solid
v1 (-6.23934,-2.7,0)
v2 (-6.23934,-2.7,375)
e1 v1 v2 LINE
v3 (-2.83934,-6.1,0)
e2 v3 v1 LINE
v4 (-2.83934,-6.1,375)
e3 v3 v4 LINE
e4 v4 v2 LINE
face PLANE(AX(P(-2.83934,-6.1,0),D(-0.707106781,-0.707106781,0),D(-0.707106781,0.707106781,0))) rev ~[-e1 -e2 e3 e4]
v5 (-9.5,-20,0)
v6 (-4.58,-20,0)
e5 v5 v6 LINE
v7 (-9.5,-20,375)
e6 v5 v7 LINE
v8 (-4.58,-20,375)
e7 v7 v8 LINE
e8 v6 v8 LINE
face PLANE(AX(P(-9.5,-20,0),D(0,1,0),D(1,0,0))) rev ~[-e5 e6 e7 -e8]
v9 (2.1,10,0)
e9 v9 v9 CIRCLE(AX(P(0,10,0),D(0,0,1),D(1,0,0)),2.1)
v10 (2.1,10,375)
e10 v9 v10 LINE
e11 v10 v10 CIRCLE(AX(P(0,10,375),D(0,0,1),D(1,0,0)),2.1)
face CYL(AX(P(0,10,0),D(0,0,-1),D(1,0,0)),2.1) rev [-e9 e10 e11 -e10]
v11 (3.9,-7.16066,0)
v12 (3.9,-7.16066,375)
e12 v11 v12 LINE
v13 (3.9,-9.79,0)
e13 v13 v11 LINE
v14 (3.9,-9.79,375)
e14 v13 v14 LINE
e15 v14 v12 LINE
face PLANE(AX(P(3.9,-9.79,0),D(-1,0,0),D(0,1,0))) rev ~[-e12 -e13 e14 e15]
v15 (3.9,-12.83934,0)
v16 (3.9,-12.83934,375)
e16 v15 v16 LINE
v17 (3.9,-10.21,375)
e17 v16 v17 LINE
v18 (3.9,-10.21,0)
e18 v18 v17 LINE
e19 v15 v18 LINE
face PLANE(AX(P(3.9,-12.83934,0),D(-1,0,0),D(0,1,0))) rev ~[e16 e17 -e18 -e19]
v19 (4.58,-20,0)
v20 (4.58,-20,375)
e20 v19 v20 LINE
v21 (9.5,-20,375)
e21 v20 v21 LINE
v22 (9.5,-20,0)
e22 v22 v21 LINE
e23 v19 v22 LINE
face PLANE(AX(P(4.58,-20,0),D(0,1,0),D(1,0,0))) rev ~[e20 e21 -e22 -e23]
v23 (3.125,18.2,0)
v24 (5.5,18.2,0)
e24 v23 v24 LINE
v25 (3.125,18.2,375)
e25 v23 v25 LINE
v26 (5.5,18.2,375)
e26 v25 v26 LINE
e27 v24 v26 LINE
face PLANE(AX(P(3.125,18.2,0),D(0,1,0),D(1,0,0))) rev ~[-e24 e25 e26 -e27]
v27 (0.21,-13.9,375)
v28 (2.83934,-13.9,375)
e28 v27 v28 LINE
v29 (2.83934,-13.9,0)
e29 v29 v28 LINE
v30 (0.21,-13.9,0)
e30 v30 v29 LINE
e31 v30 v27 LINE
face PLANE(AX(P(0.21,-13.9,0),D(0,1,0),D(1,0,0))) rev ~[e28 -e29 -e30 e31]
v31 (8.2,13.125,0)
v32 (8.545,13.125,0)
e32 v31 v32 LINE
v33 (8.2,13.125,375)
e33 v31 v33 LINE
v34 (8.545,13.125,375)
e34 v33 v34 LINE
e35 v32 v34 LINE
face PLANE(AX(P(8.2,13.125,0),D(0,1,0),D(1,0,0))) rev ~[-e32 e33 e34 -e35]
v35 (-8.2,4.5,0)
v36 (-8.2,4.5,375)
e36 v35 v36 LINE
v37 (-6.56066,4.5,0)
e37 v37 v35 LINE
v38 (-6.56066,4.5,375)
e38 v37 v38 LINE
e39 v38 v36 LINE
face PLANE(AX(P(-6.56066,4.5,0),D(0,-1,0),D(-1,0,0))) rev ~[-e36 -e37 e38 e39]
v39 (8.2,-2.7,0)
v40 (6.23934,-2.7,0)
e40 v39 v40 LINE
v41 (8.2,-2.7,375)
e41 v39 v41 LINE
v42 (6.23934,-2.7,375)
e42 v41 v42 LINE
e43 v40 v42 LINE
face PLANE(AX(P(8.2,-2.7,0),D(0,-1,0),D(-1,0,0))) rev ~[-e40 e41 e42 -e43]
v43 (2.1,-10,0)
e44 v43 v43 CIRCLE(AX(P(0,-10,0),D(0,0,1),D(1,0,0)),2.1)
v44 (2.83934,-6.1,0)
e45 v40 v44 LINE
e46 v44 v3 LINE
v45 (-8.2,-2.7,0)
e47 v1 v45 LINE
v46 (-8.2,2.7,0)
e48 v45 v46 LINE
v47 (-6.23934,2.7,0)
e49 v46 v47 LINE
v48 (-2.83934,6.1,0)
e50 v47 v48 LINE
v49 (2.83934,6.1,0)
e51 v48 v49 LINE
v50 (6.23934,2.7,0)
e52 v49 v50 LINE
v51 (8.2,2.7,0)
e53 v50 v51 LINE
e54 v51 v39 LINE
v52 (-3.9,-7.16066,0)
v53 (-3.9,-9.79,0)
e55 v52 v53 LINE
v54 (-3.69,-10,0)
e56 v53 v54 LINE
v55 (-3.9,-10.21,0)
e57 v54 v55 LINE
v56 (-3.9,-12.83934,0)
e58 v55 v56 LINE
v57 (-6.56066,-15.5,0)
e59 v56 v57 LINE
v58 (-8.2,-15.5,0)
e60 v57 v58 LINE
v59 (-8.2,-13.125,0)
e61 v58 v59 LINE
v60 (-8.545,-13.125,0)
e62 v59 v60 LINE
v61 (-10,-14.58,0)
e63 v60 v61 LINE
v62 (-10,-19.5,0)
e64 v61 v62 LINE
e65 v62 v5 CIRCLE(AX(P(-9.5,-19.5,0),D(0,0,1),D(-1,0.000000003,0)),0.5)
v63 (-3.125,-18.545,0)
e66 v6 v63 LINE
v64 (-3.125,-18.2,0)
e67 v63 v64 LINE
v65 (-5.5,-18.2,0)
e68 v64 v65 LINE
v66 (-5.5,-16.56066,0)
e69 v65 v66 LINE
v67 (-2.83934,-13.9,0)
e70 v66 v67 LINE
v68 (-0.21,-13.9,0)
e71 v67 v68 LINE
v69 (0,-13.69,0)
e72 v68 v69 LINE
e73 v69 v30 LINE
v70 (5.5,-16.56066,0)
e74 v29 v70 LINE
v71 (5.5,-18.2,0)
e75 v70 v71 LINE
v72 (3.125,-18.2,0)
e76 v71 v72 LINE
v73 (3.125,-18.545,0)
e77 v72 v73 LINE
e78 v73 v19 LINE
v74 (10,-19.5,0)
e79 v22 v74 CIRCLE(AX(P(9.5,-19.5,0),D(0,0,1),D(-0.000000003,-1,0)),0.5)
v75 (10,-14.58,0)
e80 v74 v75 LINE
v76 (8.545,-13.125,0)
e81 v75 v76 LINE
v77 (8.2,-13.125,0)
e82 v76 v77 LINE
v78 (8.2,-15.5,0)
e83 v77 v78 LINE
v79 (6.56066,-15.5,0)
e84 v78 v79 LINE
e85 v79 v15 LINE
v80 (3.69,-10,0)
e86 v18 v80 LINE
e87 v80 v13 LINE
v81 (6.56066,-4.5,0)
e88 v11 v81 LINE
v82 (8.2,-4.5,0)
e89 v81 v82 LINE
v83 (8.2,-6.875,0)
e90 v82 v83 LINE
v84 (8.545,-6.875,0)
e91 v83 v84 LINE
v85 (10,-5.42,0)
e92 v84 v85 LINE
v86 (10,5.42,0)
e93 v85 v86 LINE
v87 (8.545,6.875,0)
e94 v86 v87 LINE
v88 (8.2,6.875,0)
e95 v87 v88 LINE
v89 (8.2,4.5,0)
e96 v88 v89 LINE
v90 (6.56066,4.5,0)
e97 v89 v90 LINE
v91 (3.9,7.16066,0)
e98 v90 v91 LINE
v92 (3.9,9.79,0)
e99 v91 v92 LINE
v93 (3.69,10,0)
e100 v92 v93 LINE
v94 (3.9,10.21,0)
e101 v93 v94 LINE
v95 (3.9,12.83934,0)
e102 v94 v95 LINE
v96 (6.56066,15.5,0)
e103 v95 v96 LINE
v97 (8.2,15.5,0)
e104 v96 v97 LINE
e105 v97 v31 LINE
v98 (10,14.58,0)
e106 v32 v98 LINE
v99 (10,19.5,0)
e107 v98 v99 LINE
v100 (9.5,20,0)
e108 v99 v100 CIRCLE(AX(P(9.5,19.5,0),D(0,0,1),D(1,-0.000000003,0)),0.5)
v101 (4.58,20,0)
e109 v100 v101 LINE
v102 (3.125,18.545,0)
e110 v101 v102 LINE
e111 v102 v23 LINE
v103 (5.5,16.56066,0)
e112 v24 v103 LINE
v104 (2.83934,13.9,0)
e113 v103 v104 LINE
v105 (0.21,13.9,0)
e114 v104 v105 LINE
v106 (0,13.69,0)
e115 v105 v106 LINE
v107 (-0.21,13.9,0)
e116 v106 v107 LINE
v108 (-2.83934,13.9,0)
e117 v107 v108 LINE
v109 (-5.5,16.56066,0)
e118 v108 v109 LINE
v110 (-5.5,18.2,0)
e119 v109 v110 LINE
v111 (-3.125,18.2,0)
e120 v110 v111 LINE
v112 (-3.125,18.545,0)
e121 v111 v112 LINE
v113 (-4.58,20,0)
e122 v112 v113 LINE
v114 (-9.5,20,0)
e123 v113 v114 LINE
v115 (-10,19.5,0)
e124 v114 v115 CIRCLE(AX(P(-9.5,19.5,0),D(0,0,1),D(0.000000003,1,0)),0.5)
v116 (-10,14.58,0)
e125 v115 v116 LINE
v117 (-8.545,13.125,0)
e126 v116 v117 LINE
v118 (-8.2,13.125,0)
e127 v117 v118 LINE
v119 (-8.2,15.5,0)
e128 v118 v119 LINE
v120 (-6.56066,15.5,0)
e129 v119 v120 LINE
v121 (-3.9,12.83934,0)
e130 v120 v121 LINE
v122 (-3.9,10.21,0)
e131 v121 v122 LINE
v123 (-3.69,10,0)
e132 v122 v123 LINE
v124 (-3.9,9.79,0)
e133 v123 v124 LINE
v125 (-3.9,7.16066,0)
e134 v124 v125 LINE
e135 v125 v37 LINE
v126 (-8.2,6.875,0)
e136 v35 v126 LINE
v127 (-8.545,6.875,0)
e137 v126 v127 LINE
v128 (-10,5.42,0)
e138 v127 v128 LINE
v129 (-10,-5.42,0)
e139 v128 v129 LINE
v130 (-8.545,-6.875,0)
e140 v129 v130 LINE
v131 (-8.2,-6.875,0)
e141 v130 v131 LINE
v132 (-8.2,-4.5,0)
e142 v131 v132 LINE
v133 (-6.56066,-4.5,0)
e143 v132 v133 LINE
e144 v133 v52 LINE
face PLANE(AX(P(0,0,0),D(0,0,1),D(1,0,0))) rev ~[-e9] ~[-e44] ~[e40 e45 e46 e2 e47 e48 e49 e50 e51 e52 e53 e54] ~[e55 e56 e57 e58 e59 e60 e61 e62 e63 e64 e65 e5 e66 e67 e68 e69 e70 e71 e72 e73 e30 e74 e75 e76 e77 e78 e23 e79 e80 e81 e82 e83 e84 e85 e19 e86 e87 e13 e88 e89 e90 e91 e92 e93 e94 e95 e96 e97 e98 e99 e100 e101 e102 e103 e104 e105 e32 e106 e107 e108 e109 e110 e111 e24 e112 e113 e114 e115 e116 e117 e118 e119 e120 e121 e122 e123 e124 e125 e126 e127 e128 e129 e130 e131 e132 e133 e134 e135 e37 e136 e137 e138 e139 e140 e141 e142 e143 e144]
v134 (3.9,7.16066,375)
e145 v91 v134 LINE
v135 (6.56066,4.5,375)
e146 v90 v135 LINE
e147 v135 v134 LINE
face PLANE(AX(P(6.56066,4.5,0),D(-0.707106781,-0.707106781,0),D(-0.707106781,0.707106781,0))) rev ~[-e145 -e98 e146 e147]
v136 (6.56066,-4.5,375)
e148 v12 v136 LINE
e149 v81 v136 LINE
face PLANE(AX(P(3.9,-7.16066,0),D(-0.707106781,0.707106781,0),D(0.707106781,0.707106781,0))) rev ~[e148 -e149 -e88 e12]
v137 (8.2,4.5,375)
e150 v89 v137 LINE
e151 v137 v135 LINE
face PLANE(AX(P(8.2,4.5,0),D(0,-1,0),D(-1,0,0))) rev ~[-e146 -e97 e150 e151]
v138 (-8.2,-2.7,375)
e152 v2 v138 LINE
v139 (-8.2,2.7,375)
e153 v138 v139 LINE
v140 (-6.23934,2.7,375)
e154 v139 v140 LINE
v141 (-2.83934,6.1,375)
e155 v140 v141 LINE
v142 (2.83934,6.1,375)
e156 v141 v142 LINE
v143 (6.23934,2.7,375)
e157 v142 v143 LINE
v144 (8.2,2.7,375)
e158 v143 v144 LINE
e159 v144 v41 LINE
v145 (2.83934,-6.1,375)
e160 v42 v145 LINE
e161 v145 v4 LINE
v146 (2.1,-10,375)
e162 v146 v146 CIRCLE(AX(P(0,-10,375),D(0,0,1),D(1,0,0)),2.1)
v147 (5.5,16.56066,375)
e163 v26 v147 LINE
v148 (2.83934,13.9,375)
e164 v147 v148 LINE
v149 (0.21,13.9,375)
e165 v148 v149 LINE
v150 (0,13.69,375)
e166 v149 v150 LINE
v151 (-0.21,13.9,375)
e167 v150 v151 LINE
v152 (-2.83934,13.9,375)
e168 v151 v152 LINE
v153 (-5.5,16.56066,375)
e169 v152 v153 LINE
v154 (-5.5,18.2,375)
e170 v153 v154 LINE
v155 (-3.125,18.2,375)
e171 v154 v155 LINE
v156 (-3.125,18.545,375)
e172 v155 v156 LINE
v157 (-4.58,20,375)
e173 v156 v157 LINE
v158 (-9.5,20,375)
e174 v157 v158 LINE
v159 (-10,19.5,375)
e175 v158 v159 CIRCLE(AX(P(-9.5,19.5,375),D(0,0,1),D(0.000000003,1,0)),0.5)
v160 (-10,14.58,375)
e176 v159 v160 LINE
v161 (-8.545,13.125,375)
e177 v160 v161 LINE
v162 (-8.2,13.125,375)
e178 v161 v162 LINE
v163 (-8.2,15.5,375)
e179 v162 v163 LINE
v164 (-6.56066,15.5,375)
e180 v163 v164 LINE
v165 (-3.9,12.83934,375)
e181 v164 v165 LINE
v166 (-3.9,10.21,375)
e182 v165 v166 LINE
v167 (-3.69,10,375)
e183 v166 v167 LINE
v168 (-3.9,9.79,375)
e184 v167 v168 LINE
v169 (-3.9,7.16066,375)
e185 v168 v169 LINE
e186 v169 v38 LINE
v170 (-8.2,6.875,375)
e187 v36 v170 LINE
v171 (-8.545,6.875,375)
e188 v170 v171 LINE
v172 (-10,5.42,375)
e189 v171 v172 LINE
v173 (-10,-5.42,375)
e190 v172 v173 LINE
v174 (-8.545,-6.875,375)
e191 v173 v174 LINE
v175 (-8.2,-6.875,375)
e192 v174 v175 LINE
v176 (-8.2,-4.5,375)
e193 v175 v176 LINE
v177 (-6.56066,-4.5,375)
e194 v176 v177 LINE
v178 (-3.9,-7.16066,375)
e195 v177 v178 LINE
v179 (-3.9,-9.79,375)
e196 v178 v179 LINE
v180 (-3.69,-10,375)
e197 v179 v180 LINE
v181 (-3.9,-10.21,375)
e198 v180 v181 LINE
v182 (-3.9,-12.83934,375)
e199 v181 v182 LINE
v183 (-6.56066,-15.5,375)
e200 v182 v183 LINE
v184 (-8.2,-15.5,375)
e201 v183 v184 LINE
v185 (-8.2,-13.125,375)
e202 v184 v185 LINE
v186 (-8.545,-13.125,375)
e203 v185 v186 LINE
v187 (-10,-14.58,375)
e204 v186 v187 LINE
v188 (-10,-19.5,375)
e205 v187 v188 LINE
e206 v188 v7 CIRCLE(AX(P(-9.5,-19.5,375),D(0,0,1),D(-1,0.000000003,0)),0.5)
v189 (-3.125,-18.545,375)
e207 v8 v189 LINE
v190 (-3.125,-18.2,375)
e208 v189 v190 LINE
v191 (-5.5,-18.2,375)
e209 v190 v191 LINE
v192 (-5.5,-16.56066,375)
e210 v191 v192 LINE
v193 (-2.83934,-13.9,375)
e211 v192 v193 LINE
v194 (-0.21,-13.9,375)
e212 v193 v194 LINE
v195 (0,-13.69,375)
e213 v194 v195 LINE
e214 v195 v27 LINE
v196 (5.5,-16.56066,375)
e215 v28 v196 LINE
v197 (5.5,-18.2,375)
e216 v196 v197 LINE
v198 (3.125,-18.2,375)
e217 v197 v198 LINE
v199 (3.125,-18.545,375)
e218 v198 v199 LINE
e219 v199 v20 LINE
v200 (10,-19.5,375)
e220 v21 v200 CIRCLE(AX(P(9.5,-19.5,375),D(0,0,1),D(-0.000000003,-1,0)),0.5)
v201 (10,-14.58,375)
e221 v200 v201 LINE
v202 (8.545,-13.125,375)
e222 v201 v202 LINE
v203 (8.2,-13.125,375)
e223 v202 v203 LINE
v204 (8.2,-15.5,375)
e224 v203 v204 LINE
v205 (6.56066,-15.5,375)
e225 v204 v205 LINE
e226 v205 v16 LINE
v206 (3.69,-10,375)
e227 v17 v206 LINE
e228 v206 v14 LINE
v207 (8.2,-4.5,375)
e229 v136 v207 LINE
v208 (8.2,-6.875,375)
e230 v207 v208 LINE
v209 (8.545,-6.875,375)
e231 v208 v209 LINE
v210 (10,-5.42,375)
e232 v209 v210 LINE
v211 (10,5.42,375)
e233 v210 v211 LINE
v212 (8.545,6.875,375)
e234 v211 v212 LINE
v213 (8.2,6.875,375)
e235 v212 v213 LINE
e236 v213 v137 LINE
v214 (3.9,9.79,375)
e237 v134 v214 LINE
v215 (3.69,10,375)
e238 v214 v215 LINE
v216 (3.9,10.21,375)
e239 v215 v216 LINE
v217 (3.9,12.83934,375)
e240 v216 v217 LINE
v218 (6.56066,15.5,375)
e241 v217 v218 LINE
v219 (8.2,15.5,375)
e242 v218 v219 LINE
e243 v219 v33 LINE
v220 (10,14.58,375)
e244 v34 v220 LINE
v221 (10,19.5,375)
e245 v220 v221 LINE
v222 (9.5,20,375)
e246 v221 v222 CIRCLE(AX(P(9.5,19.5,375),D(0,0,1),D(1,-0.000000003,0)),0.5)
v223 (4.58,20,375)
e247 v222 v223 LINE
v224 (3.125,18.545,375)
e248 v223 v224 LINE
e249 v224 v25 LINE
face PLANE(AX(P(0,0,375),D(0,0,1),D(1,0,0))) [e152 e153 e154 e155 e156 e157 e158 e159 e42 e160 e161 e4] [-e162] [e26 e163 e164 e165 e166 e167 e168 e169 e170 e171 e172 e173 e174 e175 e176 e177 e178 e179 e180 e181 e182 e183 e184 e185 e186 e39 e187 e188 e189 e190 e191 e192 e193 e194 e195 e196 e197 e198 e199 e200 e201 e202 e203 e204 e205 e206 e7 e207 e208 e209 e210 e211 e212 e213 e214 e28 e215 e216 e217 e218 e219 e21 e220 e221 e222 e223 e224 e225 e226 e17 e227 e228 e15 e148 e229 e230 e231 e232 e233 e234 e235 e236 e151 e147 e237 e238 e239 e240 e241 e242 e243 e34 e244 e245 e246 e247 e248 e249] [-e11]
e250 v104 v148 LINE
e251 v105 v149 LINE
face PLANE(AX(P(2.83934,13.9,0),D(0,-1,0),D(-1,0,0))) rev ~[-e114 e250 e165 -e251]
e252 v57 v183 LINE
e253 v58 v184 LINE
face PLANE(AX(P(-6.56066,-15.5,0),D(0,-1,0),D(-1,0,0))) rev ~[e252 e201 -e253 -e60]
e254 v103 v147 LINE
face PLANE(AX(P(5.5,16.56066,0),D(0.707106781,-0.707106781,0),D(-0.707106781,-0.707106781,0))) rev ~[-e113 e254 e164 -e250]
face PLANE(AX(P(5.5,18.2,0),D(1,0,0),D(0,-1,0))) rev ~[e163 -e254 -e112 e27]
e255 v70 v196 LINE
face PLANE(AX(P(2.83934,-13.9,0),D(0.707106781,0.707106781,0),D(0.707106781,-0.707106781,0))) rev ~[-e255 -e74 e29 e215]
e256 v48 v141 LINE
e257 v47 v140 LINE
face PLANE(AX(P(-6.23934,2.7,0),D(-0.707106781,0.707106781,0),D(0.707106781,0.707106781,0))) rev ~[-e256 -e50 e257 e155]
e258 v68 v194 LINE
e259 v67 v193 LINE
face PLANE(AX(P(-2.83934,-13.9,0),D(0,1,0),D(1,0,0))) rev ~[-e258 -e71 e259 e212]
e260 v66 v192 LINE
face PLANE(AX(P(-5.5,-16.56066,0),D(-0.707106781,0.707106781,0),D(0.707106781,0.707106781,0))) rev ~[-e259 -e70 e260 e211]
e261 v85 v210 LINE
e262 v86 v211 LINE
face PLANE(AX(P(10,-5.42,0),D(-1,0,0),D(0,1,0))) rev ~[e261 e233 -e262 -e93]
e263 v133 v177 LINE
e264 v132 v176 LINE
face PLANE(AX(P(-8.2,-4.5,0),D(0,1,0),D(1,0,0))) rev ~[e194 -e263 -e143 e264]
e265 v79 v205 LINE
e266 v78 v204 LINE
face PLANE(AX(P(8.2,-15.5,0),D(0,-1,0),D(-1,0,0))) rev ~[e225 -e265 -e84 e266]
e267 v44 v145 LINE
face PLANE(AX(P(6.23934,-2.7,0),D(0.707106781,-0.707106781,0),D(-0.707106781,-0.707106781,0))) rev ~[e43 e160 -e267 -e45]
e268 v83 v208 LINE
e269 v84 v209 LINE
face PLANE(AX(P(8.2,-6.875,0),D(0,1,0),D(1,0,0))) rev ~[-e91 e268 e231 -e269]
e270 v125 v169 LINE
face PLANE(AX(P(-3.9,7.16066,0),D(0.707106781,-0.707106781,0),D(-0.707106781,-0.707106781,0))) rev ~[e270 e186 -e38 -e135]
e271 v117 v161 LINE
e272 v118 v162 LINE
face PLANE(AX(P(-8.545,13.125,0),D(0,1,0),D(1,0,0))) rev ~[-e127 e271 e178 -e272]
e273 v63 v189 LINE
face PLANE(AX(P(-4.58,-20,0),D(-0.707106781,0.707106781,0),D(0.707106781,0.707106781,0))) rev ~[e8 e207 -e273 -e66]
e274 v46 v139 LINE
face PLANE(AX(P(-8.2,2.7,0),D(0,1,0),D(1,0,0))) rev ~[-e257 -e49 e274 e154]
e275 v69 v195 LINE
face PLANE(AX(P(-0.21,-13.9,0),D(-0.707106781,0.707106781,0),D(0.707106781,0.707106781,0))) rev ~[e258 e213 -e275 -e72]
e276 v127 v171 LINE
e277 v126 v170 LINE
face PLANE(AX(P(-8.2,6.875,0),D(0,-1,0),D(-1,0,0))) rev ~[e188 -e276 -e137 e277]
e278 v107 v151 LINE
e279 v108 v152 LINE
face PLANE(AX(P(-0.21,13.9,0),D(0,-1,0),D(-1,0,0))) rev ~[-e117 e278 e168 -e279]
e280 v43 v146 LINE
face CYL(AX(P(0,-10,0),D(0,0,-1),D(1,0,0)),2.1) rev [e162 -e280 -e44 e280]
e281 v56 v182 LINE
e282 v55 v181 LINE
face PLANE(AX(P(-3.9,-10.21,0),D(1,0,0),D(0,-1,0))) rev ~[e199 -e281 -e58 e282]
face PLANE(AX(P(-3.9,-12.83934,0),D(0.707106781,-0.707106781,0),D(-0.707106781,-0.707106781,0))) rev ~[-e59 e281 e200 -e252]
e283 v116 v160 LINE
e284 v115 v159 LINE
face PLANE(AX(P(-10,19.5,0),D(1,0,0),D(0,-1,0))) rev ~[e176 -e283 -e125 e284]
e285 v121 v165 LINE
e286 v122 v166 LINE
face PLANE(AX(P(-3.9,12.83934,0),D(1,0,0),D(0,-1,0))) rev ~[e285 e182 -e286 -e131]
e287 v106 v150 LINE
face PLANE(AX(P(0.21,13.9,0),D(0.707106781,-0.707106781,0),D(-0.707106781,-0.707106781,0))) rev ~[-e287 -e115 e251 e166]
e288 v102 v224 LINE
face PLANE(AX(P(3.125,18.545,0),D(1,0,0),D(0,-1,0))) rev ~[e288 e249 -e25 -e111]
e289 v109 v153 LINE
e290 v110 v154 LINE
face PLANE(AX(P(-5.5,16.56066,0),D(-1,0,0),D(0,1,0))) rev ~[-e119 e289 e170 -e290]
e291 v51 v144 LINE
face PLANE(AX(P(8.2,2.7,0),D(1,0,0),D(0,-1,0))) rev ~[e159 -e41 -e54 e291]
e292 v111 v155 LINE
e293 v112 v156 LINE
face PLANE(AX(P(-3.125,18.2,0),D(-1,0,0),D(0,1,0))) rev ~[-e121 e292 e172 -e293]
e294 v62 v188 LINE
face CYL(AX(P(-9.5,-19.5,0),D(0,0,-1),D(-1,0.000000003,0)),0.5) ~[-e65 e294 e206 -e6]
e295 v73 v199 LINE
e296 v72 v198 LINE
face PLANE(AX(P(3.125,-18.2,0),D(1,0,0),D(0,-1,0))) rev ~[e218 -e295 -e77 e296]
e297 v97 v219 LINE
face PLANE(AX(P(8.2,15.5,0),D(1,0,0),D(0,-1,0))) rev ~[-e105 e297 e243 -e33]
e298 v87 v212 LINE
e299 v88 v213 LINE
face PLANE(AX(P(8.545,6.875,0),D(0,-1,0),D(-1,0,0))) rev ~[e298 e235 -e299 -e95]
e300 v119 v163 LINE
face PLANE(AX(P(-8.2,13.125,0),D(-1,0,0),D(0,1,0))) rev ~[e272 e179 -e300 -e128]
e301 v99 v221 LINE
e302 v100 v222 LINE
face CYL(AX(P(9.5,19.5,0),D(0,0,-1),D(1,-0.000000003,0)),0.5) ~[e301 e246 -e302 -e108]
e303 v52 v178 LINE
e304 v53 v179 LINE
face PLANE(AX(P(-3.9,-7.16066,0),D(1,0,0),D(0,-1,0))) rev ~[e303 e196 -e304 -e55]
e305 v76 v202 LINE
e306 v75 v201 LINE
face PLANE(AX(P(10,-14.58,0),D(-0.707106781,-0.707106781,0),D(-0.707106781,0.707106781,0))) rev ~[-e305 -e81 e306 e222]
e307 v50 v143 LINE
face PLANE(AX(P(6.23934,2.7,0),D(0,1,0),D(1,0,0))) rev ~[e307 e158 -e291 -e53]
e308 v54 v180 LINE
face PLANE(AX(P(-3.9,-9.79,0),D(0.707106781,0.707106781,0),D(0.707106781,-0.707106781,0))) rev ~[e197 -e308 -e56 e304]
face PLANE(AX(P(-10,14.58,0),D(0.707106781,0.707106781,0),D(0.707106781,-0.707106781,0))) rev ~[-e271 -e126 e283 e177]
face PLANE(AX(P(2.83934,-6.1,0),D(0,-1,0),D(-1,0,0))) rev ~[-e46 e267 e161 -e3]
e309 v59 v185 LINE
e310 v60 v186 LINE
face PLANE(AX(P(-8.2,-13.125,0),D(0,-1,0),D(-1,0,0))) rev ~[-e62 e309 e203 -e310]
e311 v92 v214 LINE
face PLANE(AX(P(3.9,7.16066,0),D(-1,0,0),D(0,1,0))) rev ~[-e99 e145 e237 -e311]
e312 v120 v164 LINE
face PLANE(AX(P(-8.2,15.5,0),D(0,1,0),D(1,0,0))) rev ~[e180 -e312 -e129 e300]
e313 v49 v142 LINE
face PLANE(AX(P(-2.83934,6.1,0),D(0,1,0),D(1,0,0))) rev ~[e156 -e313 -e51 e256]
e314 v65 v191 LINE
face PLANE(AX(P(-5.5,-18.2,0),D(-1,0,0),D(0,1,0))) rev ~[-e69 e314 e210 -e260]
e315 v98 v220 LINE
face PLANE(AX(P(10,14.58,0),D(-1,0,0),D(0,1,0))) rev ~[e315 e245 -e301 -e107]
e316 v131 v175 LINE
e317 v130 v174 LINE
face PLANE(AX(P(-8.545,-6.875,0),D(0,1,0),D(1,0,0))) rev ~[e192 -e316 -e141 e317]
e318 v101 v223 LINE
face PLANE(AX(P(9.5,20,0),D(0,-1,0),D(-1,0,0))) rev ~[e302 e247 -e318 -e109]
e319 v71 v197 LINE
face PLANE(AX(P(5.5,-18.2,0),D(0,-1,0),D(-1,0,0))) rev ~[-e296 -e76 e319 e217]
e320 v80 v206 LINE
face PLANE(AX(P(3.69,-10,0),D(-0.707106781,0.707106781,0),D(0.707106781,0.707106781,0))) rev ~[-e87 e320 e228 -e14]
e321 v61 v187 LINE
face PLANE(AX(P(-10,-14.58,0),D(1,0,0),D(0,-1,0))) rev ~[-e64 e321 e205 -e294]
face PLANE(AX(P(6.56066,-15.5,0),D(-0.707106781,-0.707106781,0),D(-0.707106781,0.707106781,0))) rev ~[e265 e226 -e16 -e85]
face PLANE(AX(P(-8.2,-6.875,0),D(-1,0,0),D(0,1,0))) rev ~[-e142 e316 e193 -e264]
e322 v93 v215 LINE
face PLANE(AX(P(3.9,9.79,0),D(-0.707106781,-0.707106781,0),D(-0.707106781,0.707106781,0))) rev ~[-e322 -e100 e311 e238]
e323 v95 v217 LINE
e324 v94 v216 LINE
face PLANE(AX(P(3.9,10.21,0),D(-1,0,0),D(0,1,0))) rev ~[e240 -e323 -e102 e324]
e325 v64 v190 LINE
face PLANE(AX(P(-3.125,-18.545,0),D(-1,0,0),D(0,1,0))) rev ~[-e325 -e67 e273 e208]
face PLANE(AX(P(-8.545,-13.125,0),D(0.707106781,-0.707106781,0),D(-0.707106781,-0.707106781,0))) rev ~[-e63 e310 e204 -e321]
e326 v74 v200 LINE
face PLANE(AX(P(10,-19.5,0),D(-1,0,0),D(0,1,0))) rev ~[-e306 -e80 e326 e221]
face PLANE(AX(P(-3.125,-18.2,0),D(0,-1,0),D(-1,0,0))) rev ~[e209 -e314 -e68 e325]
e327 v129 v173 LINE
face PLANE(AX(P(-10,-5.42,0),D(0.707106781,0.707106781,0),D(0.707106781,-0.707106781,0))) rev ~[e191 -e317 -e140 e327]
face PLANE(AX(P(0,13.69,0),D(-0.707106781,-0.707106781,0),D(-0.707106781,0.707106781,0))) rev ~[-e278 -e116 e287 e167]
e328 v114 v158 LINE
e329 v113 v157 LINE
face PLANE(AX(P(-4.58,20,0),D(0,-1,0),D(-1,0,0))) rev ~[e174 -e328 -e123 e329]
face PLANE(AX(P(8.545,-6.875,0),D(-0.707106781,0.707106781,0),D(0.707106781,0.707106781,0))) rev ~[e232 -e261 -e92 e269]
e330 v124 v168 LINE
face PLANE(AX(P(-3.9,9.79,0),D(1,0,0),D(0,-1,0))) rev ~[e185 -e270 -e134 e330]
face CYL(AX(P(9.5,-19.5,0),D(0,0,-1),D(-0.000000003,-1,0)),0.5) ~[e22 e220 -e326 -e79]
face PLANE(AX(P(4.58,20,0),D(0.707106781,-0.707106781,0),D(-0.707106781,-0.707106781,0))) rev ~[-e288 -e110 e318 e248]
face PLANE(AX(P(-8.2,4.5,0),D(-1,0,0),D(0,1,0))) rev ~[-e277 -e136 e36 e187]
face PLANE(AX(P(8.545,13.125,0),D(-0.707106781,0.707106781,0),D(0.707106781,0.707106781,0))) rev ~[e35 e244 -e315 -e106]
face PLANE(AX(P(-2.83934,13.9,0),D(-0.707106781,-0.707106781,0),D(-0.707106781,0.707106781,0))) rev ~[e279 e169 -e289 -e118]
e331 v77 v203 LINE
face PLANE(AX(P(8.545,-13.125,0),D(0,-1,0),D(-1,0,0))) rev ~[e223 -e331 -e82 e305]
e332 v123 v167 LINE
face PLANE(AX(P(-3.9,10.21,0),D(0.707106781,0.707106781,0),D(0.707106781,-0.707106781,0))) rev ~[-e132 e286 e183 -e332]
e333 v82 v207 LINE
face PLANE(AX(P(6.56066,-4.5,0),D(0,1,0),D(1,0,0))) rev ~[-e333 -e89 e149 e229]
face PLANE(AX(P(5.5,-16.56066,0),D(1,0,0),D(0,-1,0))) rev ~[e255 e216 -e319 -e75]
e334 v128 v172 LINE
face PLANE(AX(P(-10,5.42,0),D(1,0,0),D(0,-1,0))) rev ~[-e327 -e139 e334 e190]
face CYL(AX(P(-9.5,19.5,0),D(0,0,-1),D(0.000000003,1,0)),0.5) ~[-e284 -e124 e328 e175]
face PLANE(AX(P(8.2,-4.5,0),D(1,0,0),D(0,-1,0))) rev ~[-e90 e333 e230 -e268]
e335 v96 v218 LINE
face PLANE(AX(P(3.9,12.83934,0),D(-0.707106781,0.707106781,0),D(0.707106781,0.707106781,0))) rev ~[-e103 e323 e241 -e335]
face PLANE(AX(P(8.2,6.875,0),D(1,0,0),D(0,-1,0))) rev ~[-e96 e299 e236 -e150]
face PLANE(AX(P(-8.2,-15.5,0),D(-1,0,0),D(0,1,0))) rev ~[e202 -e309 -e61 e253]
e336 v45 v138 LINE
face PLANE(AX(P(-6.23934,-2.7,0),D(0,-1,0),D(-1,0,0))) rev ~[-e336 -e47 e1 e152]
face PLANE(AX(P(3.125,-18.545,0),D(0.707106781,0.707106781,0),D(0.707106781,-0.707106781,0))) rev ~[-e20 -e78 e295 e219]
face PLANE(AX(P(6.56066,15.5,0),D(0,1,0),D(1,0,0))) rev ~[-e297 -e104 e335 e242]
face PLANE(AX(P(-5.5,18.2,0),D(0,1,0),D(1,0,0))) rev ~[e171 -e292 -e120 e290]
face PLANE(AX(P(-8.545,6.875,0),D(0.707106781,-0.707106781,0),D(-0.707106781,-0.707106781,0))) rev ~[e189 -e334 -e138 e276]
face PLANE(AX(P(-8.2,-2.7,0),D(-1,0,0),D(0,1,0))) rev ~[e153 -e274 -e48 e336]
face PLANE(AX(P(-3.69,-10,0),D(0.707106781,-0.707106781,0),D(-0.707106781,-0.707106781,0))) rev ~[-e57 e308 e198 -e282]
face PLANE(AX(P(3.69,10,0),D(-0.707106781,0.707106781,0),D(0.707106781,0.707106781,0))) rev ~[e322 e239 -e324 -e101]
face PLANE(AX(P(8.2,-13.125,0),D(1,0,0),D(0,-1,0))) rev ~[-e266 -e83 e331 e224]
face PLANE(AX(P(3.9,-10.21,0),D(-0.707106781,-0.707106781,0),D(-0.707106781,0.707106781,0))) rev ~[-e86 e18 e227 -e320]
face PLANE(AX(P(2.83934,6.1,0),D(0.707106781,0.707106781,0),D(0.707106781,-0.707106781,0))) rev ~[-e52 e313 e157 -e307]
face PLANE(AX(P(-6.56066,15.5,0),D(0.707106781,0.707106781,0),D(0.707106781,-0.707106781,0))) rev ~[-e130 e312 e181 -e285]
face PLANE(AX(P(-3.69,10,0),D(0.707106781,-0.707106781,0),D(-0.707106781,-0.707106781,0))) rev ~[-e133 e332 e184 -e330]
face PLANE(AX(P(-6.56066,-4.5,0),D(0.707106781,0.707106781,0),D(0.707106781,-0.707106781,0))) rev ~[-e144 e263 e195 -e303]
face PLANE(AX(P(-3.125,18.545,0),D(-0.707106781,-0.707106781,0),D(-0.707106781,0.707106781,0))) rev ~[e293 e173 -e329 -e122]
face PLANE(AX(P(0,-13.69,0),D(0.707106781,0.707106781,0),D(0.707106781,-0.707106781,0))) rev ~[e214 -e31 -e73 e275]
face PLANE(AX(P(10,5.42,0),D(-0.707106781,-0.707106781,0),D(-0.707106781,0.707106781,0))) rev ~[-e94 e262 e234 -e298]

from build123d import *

# Parameters (mm, degrees)
SKETCH1_R           = 2.1
BOSS_EXTRUDE1_DEPTH = 375


with BuildPart() as part:
    # Sketch1 → Boss-Extrude1 (new body)
    with BuildSketch(Plane.XY):
        with BuildLine():
            Line((4.58, -20), (9.5, -20))
            ThreePointArc((9.5, -20), (9.853553391, -19.853553391), (10, -19.5))
            Line((10, -19.5), (10, -14.58))
            Line((10, -14.58), (8.545, -13.125))
            Line((8.545, -13.125), (8.2, -13.125))
            Line((8.2, -13.125), (8.2, -15.5))
            Line((8.2, -15.5), (6.560660172, -15.5))
            Line((6.560660172, -15.5), (3.9, -12.839339828))
            Line((3.9, -12.839339828), (3.9, -10.21))
            Line((3.9, -10.21), (3.69, -10))
            Line((3.69, -10), (3.9, -9.79))
            Line((3.9, -9.79), (3.9, -7.160660172))
            Line((3.9, -7.160660172), (6.560660172, -4.5))
            Line((6.560660172, -4.5), (8.2, -4.5))
            Line((8.2, -4.5), (8.2, -6.875))
            Line((8.2, -6.875), (8.545, -6.875))
            Line((8.545, -6.875), (10, -5.42))
            Line((10, -5.42), (10, 5.42))
            Line((10, 5.42), (8.545, 6.875))
            Line((8.545, 6.875), (8.2, 6.875))
            Line((8.2, 6.875), (8.2, 4.5))
            Line((8.2, 4.5), (6.560660172, 4.5))
            Line((6.560660172, 4.5), (3.9, 7.160660172))
            Line((3.9, 7.160660172), (3.9, 9.79))
            Line((3.9, 9.79), (3.69, 10))
            Line((3.69, 10), (3.9, 10.21))
            Line((3.9, 10.21), (3.9, 12.839339828))
            Line((3.9, 12.839339828), (6.560660172, 15.5))
            Line((6.560660172, 15.5), (8.2, 15.5))
            Line((8.2, 15.5), (8.2, 13.125))
            Line((8.2, 13.125), (8.545, 13.125))
            Line((8.545, 13.125), (10, 14.58))
            Line((10, 14.58), (10, 19.5))
            ThreePointArc((10, 19.5), (9.853553391, 19.853553391), (9.5, 20))
            Line((9.5, 20), (4.58, 20))
            Line((4.58, 20), (3.125, 18.545))
            Line((3.125, 18.545), (3.125, 18.2))
            Line((3.125, 18.2), (5.5, 18.2))
            Line((5.5, 18.2), (5.5, 16.560660172))
            Line((5.5, 16.560660172), (2.839339828, 13.9))
            Line((2.839339828, 13.9), (0.21, 13.9))
            Line((0.21, 13.9), (0, 13.69))
            Line((0, 13.69), (-0.21, 13.9))
            Line((-0.21, 13.9), (-2.839339828, 13.9))
            Line((-2.839339828, 13.9), (-5.5, 16.560660172))
            Line((-5.5, 16.560660172), (-5.5, 18.2))
            Line((-5.5, 18.2), (-3.125, 18.2))
            Line((-3.125, 18.2), (-3.125, 18.545))
            Line((-3.125, 18.545), (-4.58, 20))
            Line((-4.58, 20), (-9.5, 20))
            ThreePointArc((-9.5, 20), (-9.853553391, 19.853553391), (-10, 19.5))
            Line((-10, 19.5), (-10, 14.58))
            Line((-10, 14.58), (-8.545, 13.125))
            Line((-8.545, 13.125), (-8.2, 13.125))
            Line((-8.2, 13.125), (-8.2, 15.5))
            Line((-8.2, 15.5), (-6.560660172, 15.5))
            Line((-6.560660172, 15.5), (-3.9, 12.839339828))
            Line((-3.9, 12.839339828), (-3.9, 10.21))
            Line((-3.9, 10.21), (-3.69, 10))
            Line((-3.69, 10), (-3.9, 9.79))
            Line((-3.9, 9.79), (-3.9, 7.160660172))
            Line((-3.9, 7.160660172), (-6.560660172, 4.5))
            Line((-6.560660172, 4.5), (-8.2, 4.5))
            Line((-8.2, 4.5), (-8.2, 6.875))
            Line((-8.2, 6.875), (-8.545, 6.875))
            Line((-8.545, 6.875), (-10, 5.42))
            Line((-10, 5.42), (-10, -5.42))
            Line((-10, -5.42), (-8.545, -6.875))
            Line((-8.545, -6.875), (-8.2, -6.875))
            Line((-8.2, -6.875), (-8.2, -4.5))
            Line((-8.2, -4.5), (-6.560660172, -4.5))
            Line((-6.560660172, -4.5), (-3.9, -7.160660172))
            Line((-3.9, -7.160660172), (-3.9, -9.79))
            Line((-3.9, -9.79), (-3.69, -10))
            Line((-3.69, -10), (-3.9, -10.21))
            Line((-3.9, -10.21), (-3.9, -12.839339828))
            Line((-3.9, -12.839339828), (-6.560660172, -15.5))
            Line((-6.560660172, -15.5), (-8.2, -15.5))
            Line((-8.2, -15.5), (-8.2, -13.125))
            Line((-8.2, -13.125), (-8.545, -13.125))
            Line((-8.545, -13.125), (-10, -14.58))
            Line((-10, -14.58), (-10, -19.5))
            ThreePointArc((-10, -19.5), (-9.853553391, -19.853553391), (-9.5, -20))
            Line((-9.5, -20), (-4.58, -20))
            Line((-4.58, -20), (-3.125, -18.545))
            Line((-3.125, -18.545), (-3.125, -18.2))
            Line((-3.125, -18.2), (-5.5, -18.2))
            Line((-5.5, -18.2), (-5.5, -16.560660172))
            Line((-5.5, -16.560660172), (-2.839339828, -13.9))
            Line((-2.839339828, -13.9), (-0.21, -13.9))
            Line((-0.21, -13.9), (0, -13.69))
            Line((0, -13.69), (0.21, -13.9))
            Line((0.21, -13.9), (2.839339828, -13.9))
            Line((2.839339828, -13.9), (5.5, -16.560660172))
            Line((5.5, -16.560660172), (5.5, -18.2))
            Line((5.5, -18.2), (3.125, -18.2))
            Line((3.125, -18.2), (3.125, -18.545))
            Line((3.125, -18.545), (4.58, -20))
        make_face()
        with Locations((0, -10)):
            Circle(SKETCH1_R, mode=Mode.SUBTRACT)
        Polygon((-6.239339828, -2.7), (-8.2, -2.7), (-8.2, 2.7), (-6.239339828, 2.7), (-2.839339828, 6.1), (2.839339828, 6.1), (6.239339828, 2.7), (8.2, 2.7), (8.2, -2.7), (6.239339828, -2.7), (2.839339828, -6.1), (-2.839339828, -6.1), align=None, mode=Mode.SUBTRACT)
        with Locations((0, 10)):
            Circle(SKETCH1_R, mode=Mode.SUBTRACT)
    extrude(amount=BOSS_EXTRUDE1_DEPTH)


solid = part.part
